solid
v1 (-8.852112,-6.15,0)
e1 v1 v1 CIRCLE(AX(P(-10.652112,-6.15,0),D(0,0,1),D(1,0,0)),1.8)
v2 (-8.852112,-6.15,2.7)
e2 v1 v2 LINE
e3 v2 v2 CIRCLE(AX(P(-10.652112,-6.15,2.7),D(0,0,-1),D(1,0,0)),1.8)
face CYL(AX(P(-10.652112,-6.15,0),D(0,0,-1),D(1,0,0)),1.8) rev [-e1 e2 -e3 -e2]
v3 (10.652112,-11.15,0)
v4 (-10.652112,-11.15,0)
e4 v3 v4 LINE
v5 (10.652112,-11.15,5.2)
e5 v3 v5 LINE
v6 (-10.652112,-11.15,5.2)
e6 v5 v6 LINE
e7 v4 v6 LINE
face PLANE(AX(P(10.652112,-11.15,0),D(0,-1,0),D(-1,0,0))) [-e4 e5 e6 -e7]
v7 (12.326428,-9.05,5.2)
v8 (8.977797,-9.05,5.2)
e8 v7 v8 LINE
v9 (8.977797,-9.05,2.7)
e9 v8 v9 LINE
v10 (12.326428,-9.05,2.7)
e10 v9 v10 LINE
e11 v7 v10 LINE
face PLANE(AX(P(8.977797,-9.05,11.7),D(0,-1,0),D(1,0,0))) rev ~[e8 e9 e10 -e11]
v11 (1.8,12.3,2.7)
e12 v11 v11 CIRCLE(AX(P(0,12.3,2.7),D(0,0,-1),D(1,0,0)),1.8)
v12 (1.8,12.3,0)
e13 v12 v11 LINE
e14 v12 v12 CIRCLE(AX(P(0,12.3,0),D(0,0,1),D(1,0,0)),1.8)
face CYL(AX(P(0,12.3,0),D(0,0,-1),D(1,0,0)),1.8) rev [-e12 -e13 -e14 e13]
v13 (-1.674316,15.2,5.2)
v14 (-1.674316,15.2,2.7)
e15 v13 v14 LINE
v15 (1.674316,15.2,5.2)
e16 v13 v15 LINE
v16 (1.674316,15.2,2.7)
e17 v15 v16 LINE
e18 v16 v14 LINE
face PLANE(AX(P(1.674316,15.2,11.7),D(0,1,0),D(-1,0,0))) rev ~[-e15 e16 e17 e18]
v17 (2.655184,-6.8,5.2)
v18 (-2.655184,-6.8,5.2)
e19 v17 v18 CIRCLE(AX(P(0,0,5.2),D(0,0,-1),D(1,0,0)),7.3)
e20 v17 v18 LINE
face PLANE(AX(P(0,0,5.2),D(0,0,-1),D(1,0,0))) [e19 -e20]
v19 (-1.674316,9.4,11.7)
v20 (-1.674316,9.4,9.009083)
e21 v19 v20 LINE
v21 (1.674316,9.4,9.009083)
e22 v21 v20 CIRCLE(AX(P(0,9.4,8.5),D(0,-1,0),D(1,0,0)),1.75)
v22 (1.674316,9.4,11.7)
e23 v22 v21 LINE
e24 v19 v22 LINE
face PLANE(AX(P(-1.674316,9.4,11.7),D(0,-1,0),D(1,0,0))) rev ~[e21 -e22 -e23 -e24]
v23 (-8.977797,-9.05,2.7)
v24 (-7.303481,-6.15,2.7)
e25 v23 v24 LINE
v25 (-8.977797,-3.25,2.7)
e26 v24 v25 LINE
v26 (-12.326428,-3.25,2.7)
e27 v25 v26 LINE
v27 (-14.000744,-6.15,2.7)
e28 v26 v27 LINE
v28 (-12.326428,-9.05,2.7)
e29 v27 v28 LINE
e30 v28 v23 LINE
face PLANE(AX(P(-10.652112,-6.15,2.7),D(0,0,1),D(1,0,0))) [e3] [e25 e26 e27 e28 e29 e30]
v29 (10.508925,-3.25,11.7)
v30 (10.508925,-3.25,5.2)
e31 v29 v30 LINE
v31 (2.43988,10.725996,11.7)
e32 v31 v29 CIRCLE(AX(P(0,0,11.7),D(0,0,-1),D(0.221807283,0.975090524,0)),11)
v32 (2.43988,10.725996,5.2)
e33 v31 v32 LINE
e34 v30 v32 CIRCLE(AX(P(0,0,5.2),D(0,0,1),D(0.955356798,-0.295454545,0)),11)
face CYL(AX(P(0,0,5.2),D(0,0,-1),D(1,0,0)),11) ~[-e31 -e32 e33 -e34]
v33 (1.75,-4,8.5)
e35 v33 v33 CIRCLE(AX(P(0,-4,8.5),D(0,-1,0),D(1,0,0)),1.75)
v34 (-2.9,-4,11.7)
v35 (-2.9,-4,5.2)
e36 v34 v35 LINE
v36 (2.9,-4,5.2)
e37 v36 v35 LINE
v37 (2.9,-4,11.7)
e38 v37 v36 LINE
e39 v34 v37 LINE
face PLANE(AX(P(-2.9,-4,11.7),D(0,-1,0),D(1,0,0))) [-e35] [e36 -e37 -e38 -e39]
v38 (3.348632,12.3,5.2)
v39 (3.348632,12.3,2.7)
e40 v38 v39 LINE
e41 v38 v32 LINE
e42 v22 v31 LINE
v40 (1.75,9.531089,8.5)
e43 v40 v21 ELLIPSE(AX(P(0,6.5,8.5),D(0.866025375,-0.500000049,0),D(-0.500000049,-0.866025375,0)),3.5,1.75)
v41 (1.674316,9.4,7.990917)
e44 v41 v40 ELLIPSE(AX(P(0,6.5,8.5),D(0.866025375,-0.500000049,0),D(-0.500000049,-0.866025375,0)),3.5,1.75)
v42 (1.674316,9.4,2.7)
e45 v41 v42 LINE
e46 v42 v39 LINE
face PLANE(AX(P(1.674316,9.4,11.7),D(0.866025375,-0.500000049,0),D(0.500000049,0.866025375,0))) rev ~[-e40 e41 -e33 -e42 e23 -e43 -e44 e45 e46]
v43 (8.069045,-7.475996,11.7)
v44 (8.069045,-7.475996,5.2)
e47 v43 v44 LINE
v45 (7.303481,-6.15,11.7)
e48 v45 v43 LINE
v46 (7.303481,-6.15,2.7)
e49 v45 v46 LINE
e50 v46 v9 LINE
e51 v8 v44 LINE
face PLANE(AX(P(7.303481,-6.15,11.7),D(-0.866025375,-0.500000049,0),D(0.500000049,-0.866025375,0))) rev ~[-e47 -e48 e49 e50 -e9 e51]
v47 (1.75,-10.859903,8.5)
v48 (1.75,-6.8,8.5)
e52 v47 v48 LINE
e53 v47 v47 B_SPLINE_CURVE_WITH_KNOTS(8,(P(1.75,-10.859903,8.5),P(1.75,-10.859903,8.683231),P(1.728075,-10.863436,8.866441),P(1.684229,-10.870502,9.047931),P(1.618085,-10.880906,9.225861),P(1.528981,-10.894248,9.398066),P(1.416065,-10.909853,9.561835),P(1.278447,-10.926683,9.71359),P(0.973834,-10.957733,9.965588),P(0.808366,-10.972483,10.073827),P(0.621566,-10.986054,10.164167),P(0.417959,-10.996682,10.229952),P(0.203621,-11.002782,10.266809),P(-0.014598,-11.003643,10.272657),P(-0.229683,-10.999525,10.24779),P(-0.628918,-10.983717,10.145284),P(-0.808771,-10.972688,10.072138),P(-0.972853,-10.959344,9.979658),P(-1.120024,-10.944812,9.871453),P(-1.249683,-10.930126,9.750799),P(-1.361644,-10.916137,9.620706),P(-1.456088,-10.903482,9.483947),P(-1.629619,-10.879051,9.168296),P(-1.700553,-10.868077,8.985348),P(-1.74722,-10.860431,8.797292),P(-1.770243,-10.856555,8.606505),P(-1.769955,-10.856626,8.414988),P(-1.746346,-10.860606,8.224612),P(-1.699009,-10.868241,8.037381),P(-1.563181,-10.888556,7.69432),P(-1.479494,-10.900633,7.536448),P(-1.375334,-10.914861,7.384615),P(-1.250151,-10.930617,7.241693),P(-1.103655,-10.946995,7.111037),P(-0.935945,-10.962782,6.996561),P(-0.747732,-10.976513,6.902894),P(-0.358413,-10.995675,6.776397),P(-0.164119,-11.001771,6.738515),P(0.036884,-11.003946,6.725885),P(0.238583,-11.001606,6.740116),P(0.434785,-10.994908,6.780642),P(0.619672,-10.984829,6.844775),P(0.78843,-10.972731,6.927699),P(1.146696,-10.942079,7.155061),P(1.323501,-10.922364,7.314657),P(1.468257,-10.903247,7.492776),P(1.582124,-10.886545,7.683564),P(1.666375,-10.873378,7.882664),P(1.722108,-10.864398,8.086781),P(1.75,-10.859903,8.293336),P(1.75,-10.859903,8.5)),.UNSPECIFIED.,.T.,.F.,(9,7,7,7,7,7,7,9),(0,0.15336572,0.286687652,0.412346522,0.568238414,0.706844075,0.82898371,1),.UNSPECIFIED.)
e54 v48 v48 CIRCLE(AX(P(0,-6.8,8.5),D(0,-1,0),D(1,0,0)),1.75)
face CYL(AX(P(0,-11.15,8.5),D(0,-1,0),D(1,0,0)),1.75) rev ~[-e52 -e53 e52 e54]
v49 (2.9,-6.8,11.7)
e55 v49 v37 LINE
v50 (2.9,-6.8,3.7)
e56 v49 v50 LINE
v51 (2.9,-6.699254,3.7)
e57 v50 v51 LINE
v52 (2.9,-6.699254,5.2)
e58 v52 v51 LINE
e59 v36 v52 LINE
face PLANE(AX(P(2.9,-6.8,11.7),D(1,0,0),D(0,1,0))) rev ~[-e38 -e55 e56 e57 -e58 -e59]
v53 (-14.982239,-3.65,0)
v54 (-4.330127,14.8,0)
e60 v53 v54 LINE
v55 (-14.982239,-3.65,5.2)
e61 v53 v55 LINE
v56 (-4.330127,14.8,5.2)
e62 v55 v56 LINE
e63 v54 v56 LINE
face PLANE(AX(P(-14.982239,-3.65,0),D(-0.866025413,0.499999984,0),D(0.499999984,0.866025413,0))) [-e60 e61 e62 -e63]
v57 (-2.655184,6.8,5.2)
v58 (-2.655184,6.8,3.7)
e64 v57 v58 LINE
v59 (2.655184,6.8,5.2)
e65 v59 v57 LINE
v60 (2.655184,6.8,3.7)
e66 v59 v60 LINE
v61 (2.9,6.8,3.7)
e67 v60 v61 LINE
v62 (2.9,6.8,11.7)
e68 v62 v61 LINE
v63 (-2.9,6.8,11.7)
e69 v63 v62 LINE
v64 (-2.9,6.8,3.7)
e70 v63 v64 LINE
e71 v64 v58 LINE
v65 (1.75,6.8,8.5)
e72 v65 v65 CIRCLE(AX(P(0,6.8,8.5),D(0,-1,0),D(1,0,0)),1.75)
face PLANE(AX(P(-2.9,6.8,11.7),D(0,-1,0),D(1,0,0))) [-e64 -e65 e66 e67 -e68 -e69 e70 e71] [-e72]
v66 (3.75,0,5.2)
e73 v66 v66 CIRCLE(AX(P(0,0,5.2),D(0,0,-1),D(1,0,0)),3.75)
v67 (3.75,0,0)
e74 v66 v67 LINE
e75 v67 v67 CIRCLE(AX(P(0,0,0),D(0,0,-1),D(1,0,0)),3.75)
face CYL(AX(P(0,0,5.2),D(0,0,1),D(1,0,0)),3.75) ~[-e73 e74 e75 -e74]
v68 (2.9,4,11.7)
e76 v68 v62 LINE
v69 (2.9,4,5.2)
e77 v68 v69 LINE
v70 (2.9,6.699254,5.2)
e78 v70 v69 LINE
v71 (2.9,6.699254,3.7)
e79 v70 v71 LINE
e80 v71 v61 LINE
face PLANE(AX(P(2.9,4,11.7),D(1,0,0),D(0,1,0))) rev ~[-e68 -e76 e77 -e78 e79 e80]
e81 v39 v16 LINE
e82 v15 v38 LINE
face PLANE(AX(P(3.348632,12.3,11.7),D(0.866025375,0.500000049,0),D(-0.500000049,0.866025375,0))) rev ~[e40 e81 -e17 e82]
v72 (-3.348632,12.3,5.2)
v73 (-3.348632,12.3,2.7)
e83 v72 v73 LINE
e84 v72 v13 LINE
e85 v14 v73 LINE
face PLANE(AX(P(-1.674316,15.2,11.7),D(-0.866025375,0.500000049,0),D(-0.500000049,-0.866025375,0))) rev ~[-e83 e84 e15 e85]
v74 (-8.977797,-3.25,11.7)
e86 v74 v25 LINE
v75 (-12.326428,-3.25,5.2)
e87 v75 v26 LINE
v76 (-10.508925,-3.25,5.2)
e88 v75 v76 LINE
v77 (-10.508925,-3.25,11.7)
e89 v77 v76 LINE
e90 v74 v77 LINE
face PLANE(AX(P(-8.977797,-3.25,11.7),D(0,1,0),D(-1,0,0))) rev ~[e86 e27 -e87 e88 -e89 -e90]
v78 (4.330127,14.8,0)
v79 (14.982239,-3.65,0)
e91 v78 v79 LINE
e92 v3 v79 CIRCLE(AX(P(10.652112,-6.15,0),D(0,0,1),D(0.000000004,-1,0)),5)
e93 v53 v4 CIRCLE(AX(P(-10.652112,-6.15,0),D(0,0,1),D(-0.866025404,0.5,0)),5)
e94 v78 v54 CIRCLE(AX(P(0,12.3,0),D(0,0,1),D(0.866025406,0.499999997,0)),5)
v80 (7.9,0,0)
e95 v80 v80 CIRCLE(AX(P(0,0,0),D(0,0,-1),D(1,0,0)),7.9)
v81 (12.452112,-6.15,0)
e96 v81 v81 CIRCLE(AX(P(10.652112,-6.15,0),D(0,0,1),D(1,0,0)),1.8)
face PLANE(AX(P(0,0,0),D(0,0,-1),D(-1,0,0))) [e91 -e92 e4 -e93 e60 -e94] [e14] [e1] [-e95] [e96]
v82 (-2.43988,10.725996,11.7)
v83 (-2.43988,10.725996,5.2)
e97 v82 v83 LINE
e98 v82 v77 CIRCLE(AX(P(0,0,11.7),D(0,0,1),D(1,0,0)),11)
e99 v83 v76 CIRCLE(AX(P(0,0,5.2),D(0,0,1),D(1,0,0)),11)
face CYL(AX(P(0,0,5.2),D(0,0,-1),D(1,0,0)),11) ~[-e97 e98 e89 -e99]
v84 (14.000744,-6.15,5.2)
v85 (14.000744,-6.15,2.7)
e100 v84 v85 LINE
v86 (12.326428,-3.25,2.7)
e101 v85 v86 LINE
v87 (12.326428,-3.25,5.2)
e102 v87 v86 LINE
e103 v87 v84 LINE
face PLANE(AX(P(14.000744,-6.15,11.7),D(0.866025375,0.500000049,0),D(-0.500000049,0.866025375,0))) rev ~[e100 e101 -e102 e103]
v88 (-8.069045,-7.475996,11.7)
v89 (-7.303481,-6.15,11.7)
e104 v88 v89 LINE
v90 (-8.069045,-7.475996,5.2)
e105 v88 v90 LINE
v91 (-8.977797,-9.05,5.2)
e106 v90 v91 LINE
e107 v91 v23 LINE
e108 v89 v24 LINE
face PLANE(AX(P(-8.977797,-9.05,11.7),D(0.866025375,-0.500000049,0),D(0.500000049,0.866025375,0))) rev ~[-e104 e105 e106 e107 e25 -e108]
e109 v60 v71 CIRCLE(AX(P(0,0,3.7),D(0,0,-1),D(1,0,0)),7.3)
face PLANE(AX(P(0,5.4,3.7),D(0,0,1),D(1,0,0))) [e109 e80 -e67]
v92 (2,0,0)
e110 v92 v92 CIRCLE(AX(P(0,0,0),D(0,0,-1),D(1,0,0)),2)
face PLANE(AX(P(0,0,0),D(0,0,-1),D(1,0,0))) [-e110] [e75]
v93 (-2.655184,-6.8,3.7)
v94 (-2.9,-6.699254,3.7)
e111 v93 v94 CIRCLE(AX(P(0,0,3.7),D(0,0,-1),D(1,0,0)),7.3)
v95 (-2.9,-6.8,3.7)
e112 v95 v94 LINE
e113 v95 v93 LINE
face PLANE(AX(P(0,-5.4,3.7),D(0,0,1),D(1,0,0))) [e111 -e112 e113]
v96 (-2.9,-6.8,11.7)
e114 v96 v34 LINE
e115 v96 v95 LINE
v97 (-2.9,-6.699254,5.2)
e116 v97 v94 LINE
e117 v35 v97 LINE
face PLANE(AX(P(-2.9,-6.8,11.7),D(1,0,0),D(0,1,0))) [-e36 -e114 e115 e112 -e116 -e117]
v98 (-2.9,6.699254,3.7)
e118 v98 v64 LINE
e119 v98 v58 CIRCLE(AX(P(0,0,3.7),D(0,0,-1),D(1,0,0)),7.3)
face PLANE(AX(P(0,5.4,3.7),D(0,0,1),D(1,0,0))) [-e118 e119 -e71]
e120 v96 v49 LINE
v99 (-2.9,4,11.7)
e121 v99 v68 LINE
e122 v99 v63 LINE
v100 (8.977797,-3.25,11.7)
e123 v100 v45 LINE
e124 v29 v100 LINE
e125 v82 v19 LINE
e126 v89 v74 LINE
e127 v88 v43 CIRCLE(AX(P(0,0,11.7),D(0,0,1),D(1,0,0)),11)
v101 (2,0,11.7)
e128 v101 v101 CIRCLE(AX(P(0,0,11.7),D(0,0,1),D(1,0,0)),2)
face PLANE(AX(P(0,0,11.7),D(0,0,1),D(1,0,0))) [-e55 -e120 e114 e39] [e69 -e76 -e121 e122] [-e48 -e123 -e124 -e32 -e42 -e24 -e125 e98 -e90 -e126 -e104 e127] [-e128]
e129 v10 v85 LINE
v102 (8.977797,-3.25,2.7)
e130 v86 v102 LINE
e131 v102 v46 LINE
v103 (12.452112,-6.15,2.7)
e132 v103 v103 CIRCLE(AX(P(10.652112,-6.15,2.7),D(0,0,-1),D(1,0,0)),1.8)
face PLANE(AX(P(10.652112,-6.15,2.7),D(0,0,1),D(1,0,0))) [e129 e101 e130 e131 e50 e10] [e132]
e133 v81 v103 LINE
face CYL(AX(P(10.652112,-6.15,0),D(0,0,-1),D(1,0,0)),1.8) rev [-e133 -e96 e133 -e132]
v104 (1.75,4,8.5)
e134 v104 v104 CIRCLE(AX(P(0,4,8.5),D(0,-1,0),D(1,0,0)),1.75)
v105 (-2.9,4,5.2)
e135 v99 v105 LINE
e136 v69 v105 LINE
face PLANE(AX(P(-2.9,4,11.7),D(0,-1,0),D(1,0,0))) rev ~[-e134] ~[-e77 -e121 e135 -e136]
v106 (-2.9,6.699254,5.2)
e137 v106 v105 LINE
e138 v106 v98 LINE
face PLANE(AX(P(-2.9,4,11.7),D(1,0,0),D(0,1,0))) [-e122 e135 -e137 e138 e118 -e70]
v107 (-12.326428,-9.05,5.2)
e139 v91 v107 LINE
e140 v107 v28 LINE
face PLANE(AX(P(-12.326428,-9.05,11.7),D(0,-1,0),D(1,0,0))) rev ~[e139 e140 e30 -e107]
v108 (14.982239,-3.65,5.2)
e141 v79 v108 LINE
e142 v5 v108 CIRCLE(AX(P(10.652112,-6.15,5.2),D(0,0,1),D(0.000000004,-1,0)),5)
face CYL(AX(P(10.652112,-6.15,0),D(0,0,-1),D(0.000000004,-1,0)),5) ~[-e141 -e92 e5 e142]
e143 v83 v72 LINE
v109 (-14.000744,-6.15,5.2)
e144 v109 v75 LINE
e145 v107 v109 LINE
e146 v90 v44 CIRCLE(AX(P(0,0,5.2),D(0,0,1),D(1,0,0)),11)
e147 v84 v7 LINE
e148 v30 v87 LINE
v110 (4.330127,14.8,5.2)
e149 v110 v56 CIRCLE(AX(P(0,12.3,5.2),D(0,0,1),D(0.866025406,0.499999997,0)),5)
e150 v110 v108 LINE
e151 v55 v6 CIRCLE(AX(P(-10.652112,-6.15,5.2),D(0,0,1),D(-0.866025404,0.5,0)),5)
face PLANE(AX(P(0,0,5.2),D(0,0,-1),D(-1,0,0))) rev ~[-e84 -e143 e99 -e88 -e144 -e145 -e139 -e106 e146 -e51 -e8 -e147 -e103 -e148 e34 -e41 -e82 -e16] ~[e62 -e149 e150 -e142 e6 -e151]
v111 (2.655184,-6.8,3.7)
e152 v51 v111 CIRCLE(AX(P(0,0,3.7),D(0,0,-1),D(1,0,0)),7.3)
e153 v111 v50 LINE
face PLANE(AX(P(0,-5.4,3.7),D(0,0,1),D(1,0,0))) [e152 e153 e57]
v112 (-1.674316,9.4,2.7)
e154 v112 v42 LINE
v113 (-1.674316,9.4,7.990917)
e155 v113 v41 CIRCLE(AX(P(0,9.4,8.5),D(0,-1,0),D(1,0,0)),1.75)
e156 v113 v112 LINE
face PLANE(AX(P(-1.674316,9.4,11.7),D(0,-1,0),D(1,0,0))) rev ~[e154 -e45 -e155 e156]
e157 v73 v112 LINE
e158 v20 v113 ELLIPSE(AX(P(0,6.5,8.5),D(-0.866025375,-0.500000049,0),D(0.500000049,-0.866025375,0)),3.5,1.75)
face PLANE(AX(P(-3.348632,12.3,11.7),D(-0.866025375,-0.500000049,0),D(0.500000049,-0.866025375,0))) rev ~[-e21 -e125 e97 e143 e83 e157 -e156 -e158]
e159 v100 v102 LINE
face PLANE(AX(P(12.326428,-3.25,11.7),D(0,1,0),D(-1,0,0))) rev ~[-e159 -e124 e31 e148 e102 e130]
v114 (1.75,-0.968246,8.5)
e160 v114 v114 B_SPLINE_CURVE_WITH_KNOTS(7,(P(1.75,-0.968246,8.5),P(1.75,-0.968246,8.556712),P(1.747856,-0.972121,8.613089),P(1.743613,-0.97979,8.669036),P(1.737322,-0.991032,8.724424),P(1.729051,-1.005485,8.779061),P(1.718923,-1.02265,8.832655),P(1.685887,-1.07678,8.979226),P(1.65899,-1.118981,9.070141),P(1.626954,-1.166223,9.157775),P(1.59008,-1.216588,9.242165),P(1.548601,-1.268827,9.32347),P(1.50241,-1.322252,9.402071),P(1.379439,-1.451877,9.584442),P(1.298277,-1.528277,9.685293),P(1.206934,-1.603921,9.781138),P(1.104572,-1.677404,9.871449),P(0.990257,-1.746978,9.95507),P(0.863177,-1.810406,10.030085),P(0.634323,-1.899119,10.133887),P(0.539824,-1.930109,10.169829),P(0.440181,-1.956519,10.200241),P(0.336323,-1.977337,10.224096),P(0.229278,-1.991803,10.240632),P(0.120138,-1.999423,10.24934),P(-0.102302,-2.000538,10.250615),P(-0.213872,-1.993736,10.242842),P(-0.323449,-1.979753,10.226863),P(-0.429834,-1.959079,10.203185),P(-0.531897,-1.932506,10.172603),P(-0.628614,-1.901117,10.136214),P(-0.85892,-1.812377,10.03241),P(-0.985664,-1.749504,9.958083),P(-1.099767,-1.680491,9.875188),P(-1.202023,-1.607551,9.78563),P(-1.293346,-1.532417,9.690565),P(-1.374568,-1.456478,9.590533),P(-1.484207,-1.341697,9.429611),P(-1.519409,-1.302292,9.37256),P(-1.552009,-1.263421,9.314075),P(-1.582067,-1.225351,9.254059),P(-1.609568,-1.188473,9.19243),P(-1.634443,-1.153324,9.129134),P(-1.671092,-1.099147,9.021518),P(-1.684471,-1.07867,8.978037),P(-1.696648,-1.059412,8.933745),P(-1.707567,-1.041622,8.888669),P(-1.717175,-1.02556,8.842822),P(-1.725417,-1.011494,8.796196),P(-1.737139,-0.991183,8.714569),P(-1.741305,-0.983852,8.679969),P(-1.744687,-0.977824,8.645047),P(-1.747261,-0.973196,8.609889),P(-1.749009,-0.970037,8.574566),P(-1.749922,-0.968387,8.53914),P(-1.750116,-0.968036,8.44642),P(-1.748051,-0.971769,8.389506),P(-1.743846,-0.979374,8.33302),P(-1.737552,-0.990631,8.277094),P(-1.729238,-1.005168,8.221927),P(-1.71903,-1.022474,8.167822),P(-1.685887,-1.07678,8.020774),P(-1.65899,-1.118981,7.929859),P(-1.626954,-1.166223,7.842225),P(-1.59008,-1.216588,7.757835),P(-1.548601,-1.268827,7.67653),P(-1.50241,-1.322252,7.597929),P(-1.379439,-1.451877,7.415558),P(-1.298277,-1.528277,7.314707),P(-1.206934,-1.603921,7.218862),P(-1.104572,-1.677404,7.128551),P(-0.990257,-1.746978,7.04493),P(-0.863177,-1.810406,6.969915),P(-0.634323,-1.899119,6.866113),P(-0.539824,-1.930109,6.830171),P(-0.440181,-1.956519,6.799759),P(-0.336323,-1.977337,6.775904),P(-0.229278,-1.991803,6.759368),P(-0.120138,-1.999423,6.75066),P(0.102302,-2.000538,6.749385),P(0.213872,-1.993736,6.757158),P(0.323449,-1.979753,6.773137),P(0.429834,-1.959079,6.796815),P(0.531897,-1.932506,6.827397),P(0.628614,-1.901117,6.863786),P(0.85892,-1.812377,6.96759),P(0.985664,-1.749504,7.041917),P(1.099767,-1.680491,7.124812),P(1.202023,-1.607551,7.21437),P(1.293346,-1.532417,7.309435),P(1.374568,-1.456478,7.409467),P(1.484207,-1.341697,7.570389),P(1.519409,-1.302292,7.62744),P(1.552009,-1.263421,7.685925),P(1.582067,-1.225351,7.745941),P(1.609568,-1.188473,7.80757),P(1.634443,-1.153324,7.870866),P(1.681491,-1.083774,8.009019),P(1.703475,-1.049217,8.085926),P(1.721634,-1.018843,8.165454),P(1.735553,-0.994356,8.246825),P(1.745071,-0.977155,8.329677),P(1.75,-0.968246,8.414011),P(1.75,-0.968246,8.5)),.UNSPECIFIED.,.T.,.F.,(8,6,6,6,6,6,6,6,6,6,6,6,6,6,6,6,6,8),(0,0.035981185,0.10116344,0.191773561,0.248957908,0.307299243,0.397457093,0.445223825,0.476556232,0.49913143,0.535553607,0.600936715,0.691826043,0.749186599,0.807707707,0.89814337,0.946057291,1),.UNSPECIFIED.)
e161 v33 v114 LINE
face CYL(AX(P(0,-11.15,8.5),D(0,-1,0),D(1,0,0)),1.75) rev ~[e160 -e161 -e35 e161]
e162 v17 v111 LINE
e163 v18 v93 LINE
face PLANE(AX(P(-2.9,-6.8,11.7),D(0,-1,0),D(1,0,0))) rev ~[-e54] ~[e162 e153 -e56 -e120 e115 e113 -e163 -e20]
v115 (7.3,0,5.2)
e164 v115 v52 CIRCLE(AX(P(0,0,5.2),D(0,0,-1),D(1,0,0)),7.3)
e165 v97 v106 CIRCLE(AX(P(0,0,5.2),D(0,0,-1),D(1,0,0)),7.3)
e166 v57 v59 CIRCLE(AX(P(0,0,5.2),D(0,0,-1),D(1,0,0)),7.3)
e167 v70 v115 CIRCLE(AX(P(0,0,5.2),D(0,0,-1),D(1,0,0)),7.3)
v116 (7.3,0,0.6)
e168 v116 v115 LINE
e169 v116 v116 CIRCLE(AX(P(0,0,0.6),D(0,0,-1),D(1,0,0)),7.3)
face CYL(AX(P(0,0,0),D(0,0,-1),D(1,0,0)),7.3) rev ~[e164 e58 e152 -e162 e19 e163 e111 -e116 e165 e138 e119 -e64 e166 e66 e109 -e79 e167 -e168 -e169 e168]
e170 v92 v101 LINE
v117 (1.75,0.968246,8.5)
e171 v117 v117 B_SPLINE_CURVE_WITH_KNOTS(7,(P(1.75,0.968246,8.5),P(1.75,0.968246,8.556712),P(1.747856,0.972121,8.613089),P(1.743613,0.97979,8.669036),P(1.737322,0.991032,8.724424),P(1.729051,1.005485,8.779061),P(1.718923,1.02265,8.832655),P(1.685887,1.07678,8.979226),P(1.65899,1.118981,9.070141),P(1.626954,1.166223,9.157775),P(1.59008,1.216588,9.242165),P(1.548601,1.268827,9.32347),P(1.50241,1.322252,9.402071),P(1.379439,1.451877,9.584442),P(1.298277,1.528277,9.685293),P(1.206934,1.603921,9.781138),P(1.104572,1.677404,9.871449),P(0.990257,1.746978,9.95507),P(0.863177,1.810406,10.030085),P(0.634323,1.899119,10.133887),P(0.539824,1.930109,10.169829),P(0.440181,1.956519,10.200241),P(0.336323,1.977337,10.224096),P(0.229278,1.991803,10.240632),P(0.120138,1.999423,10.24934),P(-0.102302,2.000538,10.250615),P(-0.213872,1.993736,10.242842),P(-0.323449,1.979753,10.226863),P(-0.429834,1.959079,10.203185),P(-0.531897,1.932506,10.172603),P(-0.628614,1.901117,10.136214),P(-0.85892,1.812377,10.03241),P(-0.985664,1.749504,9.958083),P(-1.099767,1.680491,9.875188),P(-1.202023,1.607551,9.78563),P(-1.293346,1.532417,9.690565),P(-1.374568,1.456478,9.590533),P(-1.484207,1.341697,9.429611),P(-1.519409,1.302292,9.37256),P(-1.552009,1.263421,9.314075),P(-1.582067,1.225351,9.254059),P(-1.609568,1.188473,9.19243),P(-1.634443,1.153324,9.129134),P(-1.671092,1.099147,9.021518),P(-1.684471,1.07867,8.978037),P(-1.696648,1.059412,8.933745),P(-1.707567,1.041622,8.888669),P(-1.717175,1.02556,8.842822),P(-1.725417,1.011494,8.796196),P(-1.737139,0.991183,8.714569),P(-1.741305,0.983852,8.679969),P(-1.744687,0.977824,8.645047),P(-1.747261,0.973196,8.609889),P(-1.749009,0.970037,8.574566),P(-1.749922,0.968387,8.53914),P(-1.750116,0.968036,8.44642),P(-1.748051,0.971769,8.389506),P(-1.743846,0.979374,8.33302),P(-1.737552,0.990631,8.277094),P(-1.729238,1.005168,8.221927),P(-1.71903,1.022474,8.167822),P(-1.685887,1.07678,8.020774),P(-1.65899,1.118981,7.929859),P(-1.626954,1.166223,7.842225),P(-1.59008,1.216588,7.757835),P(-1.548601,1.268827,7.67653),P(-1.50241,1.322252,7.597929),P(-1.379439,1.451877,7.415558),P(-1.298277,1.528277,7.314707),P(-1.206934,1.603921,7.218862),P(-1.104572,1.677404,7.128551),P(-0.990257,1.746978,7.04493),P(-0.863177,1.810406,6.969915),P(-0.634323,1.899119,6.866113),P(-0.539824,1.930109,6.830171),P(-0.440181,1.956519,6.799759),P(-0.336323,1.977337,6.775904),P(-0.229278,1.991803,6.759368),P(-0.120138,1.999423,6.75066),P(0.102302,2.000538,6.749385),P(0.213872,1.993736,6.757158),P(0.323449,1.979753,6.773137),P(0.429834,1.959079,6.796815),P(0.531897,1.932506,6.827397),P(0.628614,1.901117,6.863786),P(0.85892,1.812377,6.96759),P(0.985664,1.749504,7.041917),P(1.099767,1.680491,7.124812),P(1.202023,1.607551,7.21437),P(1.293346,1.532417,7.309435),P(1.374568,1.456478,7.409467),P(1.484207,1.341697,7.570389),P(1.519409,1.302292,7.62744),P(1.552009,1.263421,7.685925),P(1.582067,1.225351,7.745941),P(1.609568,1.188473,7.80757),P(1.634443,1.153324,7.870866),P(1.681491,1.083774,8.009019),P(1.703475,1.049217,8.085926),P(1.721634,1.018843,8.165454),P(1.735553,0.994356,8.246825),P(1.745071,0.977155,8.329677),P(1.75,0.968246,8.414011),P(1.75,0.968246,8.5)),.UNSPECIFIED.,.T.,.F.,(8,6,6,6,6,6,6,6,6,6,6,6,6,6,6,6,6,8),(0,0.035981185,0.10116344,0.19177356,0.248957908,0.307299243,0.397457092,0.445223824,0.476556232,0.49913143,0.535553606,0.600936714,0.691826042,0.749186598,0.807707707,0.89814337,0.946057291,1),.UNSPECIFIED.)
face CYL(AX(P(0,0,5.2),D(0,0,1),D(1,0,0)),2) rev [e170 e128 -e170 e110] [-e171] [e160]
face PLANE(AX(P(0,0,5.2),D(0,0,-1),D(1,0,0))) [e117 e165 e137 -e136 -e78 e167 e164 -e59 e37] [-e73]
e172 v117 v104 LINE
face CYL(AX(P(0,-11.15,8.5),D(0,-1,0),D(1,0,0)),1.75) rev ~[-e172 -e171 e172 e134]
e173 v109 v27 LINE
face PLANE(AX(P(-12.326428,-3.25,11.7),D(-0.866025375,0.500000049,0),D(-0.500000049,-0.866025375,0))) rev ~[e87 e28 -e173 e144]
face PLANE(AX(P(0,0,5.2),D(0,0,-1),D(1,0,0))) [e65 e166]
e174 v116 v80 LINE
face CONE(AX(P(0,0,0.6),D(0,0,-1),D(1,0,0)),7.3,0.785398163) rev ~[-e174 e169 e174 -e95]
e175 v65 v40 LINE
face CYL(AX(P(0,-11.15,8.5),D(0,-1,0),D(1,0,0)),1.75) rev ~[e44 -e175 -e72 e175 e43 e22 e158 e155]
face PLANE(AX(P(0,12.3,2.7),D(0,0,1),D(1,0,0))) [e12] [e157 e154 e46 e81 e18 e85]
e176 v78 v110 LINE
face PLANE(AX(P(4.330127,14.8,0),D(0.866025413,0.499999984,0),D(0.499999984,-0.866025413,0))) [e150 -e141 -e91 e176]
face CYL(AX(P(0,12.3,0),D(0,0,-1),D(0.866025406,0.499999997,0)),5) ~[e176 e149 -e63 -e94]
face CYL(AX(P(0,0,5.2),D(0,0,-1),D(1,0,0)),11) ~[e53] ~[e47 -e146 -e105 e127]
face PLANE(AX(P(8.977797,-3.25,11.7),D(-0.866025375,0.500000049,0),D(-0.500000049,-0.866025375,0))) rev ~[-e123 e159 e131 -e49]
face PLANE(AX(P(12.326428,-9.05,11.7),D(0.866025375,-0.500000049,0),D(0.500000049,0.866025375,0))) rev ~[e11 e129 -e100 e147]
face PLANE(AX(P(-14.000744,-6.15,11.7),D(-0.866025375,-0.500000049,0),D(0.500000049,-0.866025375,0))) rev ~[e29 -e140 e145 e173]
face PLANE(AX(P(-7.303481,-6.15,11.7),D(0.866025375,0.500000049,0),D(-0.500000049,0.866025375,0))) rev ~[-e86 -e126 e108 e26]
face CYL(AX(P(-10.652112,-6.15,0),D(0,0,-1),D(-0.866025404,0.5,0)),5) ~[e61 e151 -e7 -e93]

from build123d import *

# Parameters (mm, degrees)
SKETCH_R        = 1.8
PAD_DEPTH       = 5.2
SKETCH002_R     = 11
SKETCH002_R_2   = 2
PAD001_DEPTH    = 6.5
SKETCH003_R     = 7.3
POCKET001_DEPTH = 5.2
POCKET_DEPTH    = 9
SKETCH005_R     = 1.75
POCKET002_DEPTH = 28.451
SKETCH006_W     = 5.8
SKETCH006_H     = 2.8
POCKET003_DEPTH = 8
SKETCH007_R     = 3.75
SKETCH007_R_2   = 2
PAD002_DEPTH    = 5.2
CHAMFER_SIZE    = 0.6


with BuildPart() as part:
    # Sketch → Pad (new body)
    with BuildSketch(Plane.XY):
        with BuildLine():
            Line((-14.982239, -3.65), (-4.330127, 14.8))
            ThreePointArc((4.330127, 14.8), (0, 17.3), (-4.330127, 14.8))
            Line((4.330127, 14.8), (14.982239, -3.65))
            ThreePointArc((10.652112, -11.15), (14.982239, -8.65), (14.982239, -3.65))
            Line((10.652112, -11.15), (-10.652112, -11.15))
            ThreePointArc((-14.982239, -3.65), (-14.982239, -8.65), (-10.652112, -11.15))
        make_face()
        with Locations((0, 12.3)):
            Circle(SKETCH_R, mode=Mode.SUBTRACT)
        with Locations((-10.652112, -6.15)):
            Circle(SKETCH_R, mode=Mode.SUBTRACT)
        with Locations((10.652112, -6.15)):
            Circle(SKETCH_R, mode=Mode.SUBTRACT)
    extrude(amount=PAD_DEPTH)

    # Sketch002 (on Face11 of Pad) → Pad001 (join)
    with BuildSketch(Plane.XY.offset(5.2)):
        Circle(SKETCH002_R)
        Circle(SKETCH002_R_2, mode=Mode.SUBTRACT)
    extrude(amount=PAD001_DEPTH)

    # Sketch003 (on Face4 of Pad001) → Pocket001 (cut)
    with BuildSketch(Plane(origin=(0, 0, 0), x_dir=(1, 0, 0), z_dir=(0, 0, -1))):
        Circle(SKETCH003_R)
    extrude(amount=-POCKET001_DEPTH, mode=Mode.SUBTRACT)

    # Sketch004 (on Face18 of Pocket001) → Pocket (cut)
    with BuildSketch(Plane.XY.offset(11.7)):
        Polygon((-7.303481, -6.15), (-8.977797, -3.25), (-12.326428, -3.25), (-14.000744, -6.15), (-12.326428, -9.05), (-8.977797, -9.05), align=None)
        Polygon((1.674316, 9.4), (3.348632, 12.3), (1.674316, 15.2), (-1.674316, 15.2), (-3.348632, 12.3), (-1.674316, 9.4), align=None)
        Polygon((12.326428, -9.05), (14.000744, -6.15), (12.326428, -3.25), (8.977797, -3.25), (7.303481, -6.15), (8.977797, -9.05), align=None)
    extrude(amount=-POCKET_DEPTH, mode=Mode.SUBTRACT)

    # Sketch005 (on Face6 of Pocket) → Pocket002 (cut, through all)
    with BuildSketch(Plane.XZ.offset(11.15)):
        with Locations((0, 8.5)):
            Circle(SKETCH005_R)
    extrude(amount=-POCKET002_DEPTH, mode=Mode.SUBTRACT)

    # Sketch006 (on Face36 of Pocket002) → Pocket003 (cut)
    with BuildSketch(Plane.XY.offset(11.7)):
        with Locations((0, 5.4)):
            Rectangle(SKETCH006_W, SKETCH006_H)
        with Locations((0, -5.4)):
            Rectangle(SKETCH006_W, SKETCH006_H)
    extrude(amount=-POCKET003_DEPTH, mode=Mode.SUBTRACT)

    # Sketch007 (on Face33 of Pocket003) → Pad002 (join)
    with BuildSketch(Plane(origin=(0, 0, 5.2), x_dir=(1, 0, 0), z_dir=(0, 0, -1))):
        Circle(SKETCH007_R)
        Circle(SKETCH007_R_2, mode=Mode.SUBTRACT)
    extrude(amount=PAD002_DEPTH)

    # Chamfer
    chamfer_edges = [part.edges().sort_by_distance(p)[0] for p in [
        (-7.3, 0, 0),
    ]]
    chamfer(chamfer_edges, length=CHAMFER_SIZE)


solid = part.part
